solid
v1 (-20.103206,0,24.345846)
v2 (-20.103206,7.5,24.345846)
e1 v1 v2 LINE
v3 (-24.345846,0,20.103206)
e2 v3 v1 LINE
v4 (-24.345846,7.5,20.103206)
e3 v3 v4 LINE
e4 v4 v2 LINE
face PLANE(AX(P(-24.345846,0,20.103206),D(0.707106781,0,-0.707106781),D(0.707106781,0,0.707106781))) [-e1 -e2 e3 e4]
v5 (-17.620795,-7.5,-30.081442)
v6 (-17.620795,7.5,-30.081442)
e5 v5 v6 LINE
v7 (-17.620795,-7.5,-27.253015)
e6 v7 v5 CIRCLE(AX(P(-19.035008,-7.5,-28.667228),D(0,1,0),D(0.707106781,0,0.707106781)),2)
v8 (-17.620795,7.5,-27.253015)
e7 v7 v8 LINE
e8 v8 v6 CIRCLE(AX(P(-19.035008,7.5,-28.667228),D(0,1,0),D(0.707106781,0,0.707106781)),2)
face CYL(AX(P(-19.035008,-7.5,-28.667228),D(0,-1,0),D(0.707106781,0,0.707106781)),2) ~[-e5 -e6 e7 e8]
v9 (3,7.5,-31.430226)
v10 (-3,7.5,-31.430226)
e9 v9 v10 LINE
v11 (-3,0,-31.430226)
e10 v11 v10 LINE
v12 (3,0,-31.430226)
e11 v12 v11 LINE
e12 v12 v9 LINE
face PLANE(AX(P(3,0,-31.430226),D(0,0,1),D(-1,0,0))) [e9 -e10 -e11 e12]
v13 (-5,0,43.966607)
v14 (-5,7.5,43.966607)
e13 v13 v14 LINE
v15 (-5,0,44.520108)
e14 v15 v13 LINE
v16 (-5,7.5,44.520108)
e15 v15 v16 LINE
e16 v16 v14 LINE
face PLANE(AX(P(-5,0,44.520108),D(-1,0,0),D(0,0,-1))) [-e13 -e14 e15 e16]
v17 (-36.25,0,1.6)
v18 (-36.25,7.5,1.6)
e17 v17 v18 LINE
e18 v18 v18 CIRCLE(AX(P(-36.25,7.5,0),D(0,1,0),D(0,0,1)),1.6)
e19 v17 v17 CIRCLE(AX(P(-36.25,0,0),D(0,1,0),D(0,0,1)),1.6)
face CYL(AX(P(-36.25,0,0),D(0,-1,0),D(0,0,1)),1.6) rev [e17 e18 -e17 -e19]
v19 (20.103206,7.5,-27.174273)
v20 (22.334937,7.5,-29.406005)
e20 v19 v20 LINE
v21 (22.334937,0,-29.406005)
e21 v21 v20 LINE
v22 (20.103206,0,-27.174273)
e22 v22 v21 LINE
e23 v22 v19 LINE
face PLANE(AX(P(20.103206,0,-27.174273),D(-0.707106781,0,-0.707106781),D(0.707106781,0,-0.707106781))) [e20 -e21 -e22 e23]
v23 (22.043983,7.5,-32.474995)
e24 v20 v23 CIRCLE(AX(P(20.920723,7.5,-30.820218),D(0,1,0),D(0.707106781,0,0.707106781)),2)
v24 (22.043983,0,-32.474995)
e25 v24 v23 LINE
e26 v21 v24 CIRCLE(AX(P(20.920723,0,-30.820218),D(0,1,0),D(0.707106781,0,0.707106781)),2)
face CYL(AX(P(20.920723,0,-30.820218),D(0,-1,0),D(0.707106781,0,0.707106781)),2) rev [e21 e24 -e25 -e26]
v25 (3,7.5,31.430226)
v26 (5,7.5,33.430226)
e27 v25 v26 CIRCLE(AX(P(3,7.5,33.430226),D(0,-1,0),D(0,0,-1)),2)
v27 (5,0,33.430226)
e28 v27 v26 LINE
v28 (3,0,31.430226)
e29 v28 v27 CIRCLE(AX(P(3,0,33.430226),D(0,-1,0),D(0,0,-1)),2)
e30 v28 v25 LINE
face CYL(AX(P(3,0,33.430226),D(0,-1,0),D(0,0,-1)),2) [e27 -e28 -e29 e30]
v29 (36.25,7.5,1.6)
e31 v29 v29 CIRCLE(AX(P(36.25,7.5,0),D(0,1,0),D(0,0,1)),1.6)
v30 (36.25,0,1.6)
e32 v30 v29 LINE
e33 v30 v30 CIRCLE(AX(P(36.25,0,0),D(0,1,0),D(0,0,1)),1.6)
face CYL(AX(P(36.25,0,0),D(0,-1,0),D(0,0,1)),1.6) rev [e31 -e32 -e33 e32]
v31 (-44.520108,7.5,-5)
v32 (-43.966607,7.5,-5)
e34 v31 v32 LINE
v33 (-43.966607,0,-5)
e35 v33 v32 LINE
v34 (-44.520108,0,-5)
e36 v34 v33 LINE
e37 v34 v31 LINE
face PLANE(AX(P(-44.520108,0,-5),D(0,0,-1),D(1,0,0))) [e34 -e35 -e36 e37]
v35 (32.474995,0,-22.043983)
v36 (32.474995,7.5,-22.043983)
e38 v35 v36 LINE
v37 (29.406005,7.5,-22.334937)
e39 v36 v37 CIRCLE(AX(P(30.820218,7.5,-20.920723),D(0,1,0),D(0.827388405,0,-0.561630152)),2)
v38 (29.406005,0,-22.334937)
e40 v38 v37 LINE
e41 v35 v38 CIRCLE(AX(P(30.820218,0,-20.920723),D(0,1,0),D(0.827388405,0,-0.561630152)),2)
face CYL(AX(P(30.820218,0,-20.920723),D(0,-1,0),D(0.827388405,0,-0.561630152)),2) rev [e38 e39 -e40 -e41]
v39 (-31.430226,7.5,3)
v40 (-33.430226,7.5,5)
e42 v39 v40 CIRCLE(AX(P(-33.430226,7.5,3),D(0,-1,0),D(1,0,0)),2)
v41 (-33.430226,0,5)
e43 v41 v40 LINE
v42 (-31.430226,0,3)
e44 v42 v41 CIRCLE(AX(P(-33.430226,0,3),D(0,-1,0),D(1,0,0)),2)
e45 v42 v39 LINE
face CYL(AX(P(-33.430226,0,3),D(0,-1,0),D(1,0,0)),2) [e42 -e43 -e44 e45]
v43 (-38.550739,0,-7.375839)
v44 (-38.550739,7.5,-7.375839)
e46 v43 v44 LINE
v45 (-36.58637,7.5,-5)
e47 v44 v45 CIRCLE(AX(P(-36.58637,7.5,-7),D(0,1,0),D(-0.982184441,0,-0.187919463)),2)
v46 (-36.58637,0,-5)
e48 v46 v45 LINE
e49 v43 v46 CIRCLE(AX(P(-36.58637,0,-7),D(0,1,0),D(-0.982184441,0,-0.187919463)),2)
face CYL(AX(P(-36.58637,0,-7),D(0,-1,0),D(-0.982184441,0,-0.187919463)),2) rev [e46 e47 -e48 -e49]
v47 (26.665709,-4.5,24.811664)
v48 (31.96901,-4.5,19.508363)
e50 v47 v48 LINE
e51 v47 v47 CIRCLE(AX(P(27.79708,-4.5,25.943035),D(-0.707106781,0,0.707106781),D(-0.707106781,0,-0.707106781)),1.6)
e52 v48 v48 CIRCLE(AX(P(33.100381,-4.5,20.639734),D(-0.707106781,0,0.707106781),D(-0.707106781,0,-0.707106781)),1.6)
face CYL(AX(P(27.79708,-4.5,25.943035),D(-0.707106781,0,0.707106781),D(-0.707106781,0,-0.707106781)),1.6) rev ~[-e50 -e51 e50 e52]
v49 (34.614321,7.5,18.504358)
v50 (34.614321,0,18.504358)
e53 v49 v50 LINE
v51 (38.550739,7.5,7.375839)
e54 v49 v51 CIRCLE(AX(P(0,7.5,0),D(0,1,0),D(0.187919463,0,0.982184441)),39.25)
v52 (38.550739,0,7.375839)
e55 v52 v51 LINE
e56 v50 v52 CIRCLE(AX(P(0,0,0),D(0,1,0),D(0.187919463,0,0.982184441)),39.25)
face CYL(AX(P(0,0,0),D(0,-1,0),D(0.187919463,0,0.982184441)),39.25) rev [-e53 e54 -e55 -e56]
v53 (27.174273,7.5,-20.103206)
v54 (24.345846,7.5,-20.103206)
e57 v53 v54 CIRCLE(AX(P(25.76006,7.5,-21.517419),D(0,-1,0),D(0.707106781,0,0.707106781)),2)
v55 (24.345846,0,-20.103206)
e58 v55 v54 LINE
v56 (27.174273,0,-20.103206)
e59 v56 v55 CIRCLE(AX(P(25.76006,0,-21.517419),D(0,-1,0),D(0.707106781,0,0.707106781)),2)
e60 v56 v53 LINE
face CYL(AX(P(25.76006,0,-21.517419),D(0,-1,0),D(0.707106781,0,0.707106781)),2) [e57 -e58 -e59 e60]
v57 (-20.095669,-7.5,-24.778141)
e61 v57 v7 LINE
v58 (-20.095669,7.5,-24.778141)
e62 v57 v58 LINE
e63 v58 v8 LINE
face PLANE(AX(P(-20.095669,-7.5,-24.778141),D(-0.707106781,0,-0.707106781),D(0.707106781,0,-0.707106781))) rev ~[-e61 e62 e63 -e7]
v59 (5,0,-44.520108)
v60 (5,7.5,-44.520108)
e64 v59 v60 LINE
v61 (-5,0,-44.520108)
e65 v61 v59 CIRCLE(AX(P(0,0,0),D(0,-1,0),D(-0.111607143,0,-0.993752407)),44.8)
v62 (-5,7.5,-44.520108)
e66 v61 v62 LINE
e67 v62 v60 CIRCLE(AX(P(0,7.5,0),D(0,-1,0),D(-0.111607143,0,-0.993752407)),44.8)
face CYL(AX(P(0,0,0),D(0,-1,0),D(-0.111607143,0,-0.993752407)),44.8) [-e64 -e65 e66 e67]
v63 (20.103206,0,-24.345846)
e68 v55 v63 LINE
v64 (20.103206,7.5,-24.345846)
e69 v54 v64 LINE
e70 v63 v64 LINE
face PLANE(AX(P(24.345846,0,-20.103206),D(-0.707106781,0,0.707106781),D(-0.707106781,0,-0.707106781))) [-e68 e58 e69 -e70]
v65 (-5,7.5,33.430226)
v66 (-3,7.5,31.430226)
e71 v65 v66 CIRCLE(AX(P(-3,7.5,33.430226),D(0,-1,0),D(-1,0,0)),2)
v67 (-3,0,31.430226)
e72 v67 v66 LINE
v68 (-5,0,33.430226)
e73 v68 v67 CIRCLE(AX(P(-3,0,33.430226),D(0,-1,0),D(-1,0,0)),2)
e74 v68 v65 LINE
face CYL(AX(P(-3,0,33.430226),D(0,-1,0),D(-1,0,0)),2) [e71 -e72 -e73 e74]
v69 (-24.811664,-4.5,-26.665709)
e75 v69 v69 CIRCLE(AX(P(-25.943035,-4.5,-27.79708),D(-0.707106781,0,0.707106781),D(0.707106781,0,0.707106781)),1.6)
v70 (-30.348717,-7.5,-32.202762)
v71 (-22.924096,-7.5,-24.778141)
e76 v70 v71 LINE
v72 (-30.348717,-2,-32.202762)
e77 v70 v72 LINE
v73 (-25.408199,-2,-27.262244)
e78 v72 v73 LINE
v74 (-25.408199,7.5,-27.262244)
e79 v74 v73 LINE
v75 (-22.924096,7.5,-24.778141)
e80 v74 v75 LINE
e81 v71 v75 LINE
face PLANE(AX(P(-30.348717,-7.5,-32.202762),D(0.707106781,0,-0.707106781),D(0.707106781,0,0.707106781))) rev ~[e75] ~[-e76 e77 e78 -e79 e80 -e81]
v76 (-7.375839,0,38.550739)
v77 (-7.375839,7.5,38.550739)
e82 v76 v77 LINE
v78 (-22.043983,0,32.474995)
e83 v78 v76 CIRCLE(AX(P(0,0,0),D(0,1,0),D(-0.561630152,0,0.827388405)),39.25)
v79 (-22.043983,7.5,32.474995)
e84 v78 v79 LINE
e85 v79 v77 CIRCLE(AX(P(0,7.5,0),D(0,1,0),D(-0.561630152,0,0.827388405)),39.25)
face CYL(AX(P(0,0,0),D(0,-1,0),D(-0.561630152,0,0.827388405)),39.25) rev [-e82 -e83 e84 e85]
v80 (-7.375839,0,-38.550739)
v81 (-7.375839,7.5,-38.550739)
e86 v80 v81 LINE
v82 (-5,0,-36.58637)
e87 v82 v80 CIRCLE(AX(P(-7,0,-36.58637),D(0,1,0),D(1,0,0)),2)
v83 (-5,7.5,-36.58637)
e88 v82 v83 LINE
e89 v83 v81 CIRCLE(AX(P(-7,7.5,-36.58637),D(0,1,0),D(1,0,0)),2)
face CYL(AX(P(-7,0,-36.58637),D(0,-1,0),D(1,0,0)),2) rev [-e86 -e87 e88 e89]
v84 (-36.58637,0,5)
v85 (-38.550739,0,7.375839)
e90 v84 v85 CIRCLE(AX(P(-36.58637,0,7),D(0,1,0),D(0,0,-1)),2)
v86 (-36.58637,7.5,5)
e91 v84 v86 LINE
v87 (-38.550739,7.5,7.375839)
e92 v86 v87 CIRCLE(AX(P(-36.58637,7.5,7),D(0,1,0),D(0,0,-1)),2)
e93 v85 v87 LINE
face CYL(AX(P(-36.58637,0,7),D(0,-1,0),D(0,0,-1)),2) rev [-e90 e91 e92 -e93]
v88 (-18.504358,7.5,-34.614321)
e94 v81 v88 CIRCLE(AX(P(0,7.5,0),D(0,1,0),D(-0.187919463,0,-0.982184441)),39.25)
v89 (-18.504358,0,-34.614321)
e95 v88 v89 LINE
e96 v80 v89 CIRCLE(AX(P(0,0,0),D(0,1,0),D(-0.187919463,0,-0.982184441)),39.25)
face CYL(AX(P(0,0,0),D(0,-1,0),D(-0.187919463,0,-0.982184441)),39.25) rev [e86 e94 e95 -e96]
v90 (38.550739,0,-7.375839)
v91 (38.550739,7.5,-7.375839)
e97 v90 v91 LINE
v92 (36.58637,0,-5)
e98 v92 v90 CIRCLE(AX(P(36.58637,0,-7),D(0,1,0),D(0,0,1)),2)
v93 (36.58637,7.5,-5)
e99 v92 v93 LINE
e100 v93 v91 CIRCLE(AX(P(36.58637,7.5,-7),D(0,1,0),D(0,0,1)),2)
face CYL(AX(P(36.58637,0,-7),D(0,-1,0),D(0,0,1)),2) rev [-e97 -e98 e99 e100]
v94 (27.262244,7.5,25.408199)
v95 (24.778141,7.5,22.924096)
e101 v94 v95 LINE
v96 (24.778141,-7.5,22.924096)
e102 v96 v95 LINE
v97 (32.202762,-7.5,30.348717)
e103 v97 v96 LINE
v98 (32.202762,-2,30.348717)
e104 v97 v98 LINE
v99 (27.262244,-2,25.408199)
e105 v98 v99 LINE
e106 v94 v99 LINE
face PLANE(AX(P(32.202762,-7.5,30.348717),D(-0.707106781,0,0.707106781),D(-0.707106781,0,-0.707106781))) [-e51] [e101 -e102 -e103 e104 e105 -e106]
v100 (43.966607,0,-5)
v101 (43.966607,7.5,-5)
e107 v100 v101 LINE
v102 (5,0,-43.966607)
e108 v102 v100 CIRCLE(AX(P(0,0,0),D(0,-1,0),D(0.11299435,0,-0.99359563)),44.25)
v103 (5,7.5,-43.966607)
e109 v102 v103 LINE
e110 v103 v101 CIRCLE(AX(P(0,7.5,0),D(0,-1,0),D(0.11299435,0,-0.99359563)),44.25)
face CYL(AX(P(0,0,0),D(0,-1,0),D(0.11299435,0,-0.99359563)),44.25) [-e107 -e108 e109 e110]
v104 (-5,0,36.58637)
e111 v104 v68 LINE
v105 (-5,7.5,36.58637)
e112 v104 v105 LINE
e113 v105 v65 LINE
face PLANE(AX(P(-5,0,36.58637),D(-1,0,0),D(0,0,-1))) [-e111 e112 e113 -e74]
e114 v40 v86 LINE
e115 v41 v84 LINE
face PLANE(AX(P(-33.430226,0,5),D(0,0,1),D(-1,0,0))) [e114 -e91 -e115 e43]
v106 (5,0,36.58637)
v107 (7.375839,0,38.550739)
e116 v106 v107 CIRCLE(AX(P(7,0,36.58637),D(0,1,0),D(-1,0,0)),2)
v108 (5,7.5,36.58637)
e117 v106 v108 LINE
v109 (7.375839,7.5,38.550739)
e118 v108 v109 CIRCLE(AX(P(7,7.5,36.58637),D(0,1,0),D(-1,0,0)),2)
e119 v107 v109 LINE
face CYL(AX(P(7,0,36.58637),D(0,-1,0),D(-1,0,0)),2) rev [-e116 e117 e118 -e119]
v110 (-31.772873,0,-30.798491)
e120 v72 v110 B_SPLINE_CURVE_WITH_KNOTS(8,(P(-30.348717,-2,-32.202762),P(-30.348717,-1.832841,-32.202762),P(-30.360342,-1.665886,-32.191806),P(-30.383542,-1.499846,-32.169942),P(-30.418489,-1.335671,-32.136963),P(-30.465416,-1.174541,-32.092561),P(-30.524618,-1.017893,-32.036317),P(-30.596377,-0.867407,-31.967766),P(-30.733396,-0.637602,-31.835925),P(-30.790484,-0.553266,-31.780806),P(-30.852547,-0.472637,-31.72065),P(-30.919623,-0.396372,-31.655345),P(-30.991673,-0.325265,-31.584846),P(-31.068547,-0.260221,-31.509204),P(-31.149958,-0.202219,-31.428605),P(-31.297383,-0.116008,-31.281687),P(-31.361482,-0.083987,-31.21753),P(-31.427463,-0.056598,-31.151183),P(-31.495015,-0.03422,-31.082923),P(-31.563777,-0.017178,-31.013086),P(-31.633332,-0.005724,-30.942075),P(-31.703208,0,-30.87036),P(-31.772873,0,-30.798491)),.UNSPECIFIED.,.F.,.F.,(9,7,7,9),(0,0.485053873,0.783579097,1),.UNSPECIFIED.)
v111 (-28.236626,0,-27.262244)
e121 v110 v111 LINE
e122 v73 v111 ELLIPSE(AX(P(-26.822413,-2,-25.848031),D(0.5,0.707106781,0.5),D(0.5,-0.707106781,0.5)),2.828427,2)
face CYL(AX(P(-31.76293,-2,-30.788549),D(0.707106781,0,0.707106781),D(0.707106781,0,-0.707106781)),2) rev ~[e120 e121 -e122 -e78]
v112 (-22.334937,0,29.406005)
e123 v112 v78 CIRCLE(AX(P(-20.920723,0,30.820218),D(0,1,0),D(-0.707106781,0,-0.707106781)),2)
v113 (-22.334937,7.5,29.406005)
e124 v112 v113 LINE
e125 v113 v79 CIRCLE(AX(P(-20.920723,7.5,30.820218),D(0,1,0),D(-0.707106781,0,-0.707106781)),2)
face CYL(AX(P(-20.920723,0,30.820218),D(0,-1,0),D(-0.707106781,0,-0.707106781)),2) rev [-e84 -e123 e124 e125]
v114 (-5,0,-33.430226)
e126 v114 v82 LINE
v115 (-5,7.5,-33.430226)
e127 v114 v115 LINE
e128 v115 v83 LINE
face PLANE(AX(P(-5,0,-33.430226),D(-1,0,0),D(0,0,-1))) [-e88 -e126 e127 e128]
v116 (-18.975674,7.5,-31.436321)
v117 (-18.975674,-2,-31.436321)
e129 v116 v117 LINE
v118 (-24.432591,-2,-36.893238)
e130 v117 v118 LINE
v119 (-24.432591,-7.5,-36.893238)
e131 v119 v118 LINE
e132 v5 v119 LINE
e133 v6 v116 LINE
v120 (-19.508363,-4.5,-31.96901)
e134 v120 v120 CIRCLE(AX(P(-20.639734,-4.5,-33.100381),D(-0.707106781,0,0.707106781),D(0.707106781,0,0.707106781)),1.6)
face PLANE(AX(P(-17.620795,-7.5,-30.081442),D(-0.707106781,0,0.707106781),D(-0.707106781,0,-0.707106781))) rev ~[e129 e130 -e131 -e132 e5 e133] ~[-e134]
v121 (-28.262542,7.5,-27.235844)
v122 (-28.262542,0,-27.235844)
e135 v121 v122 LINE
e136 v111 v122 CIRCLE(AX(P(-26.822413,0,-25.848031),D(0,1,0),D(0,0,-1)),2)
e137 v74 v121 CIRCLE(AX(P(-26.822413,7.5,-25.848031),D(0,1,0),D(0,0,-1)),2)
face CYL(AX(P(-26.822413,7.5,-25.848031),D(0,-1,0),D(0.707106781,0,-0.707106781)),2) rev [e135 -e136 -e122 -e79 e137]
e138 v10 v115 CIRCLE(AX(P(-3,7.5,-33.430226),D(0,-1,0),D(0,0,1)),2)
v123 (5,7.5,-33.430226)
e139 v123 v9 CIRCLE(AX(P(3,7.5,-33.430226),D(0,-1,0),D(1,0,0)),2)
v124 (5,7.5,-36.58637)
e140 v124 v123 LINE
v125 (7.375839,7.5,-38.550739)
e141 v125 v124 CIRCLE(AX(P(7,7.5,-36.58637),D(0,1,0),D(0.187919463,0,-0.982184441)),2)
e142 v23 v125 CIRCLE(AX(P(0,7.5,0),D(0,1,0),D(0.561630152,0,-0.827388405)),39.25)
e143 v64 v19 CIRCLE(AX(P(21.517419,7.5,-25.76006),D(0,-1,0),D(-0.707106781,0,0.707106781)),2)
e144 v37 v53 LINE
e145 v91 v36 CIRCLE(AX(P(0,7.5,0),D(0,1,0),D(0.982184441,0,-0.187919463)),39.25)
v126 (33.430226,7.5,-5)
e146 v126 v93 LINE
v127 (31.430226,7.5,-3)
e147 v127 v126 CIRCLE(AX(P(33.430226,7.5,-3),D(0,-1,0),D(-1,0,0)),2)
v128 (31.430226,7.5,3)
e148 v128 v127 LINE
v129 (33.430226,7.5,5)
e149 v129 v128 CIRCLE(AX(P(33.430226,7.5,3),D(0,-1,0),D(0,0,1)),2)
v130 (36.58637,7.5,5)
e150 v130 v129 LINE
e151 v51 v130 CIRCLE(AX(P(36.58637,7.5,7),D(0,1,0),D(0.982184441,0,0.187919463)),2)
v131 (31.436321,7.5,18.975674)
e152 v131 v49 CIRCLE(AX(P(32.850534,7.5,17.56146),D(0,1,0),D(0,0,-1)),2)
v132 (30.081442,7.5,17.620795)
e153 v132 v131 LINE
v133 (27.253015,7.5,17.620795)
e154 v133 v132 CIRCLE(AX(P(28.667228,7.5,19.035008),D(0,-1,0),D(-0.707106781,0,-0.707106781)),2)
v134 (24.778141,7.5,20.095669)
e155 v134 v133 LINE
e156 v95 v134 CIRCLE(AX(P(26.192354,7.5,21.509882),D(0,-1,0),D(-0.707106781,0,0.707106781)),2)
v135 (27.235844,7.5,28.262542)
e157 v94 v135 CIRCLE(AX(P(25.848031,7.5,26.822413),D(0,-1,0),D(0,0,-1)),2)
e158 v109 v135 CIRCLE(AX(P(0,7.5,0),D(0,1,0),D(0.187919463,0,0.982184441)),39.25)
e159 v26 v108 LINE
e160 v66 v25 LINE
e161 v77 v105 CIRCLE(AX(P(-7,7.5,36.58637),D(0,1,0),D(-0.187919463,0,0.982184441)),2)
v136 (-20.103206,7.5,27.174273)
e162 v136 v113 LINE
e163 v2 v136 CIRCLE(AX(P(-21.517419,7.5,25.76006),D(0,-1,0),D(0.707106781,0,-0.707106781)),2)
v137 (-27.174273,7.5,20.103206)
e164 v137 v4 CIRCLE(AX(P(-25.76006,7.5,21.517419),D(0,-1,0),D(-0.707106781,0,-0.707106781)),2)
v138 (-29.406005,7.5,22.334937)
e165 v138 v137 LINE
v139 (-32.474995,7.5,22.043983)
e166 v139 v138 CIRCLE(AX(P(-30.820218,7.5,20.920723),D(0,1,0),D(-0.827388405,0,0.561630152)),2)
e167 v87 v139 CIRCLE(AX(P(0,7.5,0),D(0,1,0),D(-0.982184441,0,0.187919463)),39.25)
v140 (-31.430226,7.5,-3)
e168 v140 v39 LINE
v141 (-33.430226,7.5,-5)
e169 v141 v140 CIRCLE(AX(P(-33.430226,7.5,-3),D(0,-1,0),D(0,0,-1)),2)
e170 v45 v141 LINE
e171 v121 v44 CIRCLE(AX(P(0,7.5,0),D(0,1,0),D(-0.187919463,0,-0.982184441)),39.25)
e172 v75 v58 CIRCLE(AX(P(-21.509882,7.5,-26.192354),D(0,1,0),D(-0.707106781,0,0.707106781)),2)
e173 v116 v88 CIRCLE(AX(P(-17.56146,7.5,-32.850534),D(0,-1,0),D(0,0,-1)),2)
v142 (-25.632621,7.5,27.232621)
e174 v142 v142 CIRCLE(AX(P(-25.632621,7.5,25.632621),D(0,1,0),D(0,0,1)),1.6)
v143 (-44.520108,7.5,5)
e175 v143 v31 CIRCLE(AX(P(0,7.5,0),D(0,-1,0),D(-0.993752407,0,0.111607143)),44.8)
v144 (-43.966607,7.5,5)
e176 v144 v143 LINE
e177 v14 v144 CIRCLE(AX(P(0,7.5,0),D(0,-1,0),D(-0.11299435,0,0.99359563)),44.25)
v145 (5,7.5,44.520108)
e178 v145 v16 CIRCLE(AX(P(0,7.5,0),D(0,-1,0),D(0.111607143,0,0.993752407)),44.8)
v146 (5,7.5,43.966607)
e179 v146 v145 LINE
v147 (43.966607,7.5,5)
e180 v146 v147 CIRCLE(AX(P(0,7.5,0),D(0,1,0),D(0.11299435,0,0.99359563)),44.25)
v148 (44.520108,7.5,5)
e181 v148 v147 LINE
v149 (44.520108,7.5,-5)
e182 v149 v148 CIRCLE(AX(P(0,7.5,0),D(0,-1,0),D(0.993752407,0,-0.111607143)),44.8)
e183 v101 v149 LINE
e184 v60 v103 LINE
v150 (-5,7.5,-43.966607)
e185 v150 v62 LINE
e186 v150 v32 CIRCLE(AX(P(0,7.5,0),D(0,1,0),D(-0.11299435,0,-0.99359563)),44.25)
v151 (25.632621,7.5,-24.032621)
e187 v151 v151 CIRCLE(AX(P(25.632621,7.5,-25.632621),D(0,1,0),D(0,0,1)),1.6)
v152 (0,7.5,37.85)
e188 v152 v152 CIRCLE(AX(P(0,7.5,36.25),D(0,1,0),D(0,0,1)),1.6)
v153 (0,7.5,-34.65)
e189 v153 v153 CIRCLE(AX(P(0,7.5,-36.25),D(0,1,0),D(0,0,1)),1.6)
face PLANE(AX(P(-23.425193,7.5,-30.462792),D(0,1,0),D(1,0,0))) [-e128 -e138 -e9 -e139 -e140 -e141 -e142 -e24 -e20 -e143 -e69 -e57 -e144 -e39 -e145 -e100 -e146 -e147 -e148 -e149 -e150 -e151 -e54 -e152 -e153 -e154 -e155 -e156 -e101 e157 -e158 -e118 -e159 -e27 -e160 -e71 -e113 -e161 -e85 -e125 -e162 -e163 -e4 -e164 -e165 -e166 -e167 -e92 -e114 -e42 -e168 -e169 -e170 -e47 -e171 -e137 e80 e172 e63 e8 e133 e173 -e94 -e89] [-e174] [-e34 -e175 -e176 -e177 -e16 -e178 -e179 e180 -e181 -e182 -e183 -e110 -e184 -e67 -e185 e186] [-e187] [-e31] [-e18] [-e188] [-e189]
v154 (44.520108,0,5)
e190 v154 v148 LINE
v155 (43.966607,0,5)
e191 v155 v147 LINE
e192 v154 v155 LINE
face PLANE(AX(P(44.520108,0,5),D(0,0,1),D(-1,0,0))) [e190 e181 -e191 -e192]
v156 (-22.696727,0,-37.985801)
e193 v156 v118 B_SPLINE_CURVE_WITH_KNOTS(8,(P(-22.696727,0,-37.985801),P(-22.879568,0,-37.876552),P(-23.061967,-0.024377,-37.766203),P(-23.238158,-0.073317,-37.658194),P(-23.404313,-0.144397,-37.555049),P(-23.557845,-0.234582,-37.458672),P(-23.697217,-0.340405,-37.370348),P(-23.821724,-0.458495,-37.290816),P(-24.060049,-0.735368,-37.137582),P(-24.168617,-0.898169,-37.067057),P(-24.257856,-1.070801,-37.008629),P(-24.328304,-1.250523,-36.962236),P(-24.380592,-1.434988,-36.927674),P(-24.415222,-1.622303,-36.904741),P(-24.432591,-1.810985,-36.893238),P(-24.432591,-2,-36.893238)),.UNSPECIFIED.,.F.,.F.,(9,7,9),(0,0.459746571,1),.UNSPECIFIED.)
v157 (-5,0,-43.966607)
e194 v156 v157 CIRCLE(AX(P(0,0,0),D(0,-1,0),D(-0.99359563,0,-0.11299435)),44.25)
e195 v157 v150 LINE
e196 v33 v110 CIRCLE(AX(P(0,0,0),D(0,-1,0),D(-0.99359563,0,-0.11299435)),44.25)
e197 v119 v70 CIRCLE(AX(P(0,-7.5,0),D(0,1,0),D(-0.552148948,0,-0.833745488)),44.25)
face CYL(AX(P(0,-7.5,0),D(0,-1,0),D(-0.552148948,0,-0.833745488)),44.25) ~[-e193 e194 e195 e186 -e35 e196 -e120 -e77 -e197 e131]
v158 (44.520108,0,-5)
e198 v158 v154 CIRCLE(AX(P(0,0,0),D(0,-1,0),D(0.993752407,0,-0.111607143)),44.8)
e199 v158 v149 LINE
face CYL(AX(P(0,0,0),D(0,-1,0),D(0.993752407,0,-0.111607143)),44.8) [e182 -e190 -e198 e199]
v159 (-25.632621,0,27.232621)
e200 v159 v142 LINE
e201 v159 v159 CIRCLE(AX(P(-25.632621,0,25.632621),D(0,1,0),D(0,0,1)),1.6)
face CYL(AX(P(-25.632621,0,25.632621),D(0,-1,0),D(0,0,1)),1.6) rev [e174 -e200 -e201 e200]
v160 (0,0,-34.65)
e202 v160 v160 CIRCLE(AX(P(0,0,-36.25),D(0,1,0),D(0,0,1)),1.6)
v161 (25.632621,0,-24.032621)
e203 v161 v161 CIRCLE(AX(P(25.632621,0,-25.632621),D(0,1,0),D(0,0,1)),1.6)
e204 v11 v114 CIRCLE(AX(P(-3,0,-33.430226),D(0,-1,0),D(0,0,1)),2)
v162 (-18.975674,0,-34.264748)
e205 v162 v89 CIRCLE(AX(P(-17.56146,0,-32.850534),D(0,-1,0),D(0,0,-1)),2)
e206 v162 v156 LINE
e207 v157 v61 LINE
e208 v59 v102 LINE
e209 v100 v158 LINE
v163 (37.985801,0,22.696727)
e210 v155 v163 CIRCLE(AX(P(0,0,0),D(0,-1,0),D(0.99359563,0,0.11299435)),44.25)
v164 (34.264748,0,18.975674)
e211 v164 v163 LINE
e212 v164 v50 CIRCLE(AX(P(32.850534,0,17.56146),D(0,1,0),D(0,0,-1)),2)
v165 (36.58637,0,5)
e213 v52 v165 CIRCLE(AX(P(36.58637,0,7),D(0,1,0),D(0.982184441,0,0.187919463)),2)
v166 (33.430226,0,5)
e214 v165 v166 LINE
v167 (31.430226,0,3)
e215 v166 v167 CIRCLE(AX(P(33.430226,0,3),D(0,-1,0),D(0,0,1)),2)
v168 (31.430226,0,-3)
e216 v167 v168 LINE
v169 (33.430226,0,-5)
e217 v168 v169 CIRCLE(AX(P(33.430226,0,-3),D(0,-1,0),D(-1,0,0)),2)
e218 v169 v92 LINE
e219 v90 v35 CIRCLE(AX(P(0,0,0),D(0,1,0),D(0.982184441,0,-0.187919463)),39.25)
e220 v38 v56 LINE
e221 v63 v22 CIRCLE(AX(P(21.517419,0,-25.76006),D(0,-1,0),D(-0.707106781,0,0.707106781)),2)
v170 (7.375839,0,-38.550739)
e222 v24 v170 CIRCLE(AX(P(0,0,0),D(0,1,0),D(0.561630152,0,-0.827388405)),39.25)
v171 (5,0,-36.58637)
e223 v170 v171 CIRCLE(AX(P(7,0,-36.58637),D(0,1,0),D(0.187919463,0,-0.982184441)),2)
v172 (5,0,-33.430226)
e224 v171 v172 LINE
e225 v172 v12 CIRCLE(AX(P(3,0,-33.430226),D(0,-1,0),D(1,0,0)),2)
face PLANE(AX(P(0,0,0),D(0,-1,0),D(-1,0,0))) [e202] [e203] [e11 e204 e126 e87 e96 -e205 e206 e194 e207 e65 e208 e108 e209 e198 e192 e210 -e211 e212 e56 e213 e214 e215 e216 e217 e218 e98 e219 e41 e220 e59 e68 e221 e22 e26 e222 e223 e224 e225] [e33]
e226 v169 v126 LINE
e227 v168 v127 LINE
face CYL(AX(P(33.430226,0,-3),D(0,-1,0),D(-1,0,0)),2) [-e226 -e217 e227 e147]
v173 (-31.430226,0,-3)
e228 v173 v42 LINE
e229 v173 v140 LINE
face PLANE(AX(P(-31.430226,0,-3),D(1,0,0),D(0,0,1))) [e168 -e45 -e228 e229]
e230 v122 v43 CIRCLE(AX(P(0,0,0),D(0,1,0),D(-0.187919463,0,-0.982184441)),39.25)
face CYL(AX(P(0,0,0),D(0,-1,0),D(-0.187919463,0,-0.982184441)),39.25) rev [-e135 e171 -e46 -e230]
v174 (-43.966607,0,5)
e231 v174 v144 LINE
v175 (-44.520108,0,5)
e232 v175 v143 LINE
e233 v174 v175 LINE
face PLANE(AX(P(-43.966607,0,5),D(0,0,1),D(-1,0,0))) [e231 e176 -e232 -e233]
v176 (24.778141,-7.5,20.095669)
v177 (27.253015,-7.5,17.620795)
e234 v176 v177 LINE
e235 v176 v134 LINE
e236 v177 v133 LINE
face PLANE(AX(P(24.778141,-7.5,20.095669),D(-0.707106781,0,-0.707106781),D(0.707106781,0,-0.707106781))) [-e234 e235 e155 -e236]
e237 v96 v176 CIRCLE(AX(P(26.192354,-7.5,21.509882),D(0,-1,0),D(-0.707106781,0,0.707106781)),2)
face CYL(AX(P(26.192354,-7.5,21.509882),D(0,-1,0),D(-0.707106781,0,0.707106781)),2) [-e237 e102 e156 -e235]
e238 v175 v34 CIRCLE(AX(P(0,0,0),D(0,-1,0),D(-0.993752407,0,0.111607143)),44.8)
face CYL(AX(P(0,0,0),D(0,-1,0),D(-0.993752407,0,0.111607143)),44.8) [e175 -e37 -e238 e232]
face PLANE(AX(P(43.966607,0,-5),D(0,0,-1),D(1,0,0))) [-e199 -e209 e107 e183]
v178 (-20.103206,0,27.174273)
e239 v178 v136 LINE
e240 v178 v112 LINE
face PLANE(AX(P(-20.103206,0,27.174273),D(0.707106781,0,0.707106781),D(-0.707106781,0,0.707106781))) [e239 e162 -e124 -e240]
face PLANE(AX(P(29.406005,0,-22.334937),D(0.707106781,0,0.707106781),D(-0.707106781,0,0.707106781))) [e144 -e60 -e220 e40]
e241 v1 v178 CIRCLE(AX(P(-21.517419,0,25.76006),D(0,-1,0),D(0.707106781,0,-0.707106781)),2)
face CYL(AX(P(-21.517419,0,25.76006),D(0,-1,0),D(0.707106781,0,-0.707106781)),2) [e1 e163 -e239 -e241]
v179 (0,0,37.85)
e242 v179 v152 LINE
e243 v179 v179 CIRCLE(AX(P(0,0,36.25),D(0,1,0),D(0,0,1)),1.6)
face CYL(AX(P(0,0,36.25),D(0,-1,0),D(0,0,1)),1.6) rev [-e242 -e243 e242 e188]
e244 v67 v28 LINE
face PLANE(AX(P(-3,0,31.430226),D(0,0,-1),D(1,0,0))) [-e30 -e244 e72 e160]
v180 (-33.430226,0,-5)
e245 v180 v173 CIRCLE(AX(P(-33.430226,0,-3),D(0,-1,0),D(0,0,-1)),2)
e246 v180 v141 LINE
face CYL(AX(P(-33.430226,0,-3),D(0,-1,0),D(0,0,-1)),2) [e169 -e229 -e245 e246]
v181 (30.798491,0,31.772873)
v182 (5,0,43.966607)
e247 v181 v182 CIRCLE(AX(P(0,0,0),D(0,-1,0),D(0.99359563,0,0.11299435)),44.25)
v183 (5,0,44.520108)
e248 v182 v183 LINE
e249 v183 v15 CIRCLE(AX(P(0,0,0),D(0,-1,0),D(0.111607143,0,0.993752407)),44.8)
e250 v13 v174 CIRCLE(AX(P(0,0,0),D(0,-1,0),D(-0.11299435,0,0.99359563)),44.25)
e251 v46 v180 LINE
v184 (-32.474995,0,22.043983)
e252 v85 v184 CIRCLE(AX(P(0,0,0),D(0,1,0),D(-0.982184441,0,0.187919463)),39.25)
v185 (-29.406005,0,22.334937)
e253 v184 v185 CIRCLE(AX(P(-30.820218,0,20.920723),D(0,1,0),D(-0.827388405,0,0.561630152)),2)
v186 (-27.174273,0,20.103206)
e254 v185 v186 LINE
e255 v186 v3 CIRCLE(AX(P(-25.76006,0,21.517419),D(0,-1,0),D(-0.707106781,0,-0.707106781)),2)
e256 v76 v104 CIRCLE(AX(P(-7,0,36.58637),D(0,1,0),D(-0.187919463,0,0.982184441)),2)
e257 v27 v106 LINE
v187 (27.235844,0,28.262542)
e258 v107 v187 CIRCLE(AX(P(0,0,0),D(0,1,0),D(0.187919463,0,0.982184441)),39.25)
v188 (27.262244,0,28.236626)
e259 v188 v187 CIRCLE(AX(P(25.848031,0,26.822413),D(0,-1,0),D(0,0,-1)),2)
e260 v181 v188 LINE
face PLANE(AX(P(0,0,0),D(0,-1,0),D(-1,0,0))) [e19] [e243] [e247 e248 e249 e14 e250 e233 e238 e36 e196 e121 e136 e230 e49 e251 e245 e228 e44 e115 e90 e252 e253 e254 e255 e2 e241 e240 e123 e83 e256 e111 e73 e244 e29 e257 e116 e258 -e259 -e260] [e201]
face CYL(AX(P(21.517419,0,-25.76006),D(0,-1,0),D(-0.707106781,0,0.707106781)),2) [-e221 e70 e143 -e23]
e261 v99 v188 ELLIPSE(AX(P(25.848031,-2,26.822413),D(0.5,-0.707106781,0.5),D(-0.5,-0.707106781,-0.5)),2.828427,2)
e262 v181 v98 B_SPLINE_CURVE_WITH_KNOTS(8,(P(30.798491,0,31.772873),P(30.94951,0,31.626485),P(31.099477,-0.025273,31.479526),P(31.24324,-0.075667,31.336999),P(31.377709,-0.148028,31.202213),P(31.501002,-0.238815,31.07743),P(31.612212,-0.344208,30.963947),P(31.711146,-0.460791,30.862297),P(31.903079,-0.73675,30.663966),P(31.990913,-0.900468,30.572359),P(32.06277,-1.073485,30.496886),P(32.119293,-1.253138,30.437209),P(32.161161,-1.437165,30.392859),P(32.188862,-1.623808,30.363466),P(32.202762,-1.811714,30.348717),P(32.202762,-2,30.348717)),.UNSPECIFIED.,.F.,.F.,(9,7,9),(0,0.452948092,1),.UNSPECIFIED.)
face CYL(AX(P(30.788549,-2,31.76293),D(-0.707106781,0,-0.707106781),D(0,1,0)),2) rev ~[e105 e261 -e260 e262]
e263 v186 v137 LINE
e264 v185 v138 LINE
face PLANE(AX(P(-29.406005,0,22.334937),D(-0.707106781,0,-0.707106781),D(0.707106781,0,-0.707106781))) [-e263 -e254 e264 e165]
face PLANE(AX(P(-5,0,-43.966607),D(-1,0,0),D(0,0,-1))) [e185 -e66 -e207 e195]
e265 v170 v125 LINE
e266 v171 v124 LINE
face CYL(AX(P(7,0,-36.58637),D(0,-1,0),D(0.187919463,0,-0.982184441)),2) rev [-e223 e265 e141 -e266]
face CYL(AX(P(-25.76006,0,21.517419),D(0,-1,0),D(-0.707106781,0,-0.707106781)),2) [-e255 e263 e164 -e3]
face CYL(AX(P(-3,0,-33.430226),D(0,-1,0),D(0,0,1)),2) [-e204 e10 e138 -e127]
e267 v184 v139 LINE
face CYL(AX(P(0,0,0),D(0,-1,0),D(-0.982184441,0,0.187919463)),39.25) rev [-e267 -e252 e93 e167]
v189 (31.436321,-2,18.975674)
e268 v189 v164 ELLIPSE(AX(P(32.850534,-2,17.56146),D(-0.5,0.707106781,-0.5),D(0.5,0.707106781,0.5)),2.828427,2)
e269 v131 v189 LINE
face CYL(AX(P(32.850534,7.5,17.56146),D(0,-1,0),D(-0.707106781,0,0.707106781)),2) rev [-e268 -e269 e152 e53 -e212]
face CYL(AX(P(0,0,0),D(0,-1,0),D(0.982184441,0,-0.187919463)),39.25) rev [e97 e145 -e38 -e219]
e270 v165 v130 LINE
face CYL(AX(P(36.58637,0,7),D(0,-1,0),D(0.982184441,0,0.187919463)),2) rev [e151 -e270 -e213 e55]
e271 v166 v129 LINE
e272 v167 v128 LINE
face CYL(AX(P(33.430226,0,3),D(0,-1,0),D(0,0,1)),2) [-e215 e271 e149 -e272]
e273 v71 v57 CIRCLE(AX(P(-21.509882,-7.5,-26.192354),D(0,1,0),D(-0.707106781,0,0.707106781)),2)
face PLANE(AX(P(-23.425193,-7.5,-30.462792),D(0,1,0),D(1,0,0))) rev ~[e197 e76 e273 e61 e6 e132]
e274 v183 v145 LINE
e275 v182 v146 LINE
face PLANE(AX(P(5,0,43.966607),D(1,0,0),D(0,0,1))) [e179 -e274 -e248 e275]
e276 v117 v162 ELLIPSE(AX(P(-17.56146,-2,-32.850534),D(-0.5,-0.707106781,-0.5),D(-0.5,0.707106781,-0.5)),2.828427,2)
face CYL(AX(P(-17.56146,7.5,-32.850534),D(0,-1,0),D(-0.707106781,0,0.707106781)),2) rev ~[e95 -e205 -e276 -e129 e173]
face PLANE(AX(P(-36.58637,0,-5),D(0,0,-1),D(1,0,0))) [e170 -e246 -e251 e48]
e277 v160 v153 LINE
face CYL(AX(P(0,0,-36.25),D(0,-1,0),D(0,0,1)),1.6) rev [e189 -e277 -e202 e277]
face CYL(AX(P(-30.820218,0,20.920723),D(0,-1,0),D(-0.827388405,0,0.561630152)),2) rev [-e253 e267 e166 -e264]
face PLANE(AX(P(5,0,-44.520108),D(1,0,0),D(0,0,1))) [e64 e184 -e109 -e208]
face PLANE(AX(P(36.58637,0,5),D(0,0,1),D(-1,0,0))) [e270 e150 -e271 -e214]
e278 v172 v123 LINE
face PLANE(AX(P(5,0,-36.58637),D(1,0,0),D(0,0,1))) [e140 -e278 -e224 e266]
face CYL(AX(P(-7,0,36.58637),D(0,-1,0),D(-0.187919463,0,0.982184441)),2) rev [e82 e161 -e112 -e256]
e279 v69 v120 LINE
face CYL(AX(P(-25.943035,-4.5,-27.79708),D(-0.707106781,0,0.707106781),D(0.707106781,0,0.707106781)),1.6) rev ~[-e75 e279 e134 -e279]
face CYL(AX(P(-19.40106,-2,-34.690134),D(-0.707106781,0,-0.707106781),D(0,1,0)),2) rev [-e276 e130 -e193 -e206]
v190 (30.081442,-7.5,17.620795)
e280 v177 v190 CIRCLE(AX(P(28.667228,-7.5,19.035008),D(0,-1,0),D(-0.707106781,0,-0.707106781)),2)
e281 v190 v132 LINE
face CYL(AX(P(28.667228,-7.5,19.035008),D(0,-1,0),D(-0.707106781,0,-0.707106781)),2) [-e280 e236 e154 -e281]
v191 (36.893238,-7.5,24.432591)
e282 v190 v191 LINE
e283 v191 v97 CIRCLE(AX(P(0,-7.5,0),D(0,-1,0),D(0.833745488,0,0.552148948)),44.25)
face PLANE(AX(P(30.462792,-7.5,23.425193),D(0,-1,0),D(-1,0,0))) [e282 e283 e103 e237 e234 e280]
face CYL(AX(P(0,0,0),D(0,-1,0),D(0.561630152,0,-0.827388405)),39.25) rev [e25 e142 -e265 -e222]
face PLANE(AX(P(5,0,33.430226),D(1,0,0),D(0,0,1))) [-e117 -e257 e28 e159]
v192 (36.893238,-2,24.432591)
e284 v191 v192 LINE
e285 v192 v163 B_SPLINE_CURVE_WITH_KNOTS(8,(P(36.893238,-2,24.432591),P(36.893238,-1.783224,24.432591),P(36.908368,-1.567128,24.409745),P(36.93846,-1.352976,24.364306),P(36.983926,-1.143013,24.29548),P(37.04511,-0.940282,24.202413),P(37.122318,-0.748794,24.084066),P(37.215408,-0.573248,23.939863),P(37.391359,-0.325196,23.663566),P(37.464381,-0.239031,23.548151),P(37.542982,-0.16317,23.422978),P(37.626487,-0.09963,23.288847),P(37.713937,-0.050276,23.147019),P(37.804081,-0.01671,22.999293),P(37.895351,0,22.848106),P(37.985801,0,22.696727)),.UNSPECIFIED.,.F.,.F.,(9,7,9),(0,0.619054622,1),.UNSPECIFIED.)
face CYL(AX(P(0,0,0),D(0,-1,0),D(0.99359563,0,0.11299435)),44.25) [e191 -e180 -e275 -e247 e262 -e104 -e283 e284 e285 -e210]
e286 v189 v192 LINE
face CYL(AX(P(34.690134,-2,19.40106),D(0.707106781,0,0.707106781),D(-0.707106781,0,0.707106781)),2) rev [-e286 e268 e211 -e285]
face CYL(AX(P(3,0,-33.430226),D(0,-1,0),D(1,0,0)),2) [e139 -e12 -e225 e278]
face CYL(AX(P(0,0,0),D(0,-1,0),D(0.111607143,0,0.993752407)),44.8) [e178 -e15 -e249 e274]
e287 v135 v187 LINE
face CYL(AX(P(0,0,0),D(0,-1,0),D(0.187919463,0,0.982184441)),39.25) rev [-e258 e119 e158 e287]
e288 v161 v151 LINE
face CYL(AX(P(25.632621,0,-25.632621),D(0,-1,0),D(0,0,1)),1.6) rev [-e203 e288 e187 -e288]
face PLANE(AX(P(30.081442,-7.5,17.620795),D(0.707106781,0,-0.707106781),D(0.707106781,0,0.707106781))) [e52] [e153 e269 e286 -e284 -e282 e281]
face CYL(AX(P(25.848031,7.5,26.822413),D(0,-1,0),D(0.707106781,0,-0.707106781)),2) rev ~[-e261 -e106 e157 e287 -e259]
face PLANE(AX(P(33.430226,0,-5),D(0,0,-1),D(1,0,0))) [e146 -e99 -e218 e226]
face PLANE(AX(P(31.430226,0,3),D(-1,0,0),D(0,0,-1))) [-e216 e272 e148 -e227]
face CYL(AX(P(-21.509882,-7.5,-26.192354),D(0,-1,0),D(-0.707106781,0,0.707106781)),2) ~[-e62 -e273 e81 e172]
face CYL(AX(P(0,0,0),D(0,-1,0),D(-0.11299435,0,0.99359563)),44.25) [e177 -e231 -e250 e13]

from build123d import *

# Parameters (mm, degrees)
SKETCH1_R           = 1.599999999999998
SKETCH1_R_2         = 1.5999999999996972
SKETCH1_R_3         = 1.6000000000003676
SKETCH1_R_4         = 1.600000000000762
SKETCH1_R_5         = 1.6000000000001544
SKETCH1_R_6         = 1.5999999999994483
BOSS_EXTRUDE1_DEPTH = 7.5
BOSS_EXTRUDE2_START = -15
BOSS_EXTRUDE2_DEPTH = 15
SKETCH3_R           = 1.5999999999999979
CUT_EXTRUDE1_DEPTH  = 15
FILLET3_R           = 2
FILLET4_R           = 2
FILLET5_R           = 2
FILLET6_R           = 2


with BuildPart() as part:
    # Sketch1 → Boss-Extrude1 (new body)
    with BuildSketch(Plane(origin=(0, 0, 0), x_dir=(1, 0, 0), z_dir=(0, 1, 0))):
        with BuildLine():
            Line((-5.000000000000007, 43.96660664640836), (-5.000000000000007, 44.52010781658104))
            ThreePointArc((-5.000000000000007, 44.52010781658104), (-7.2e-15, 44.8), (4.999999999999993, 44.52010781658104))
            Line((4.999999999999993, 44.52010781658104), (4.999999999999993, 43.966606646408366))
            ThreePointArc((4.999999999999993, 43.966606646408366), (31.289475067504778, 31.289475067504675), (43.96660664640838, 4.9999999999998535))
            Line((43.96660664640838, 4.9999999999998535), (44.52010781658105, 4.999999999999852))
            ThreePointArc((44.52010781658105, 4.999999999999852), (44.8, -1.4984e-13), (44.52010781658102, -5.000000000000148))
            Line((44.52010781658102, -5.000000000000148), (43.966606646408344, -5.0000000000001465))
            ThreePointArc((43.966606646408344, -5.0000000000001465), (31.289475067504558, -31.289475067504878), (4.9999999999997, -43.96660664640838))
            Line((4.9999999999997, -43.96660664640838), (4.999999999999696, -44.52010781658105))
            ThreePointArc((4.999999999999696, -44.52010781658105), (-3.0563e-13, -44.79999999999998), (-5.000000000000304, -44.52010781658099))
            Line((-5.000000000000304, -44.52010781658099), (-5.0000000000003, -43.966606646408316))
            ThreePointArc((-5.0000000000003, -43.966606646408316), (-31.289475067505, -31.28947506750445), (-43.96660664640841, -4.999999999999546))
            Line((-43.96660664640841, -4.999999999999546), (-44.52010781658109, -4.999999999999541))
            ThreePointArc((-44.52010781658109, -4.999999999999541), (-44.8, 4.6308e-13), (-44.52010781658098, 5.00000000000046))
            Line((-44.52010781658098, 5.00000000000046), (-43.96660664640831, 5.000000000000454))
            ThreePointArc((-43.96660664640831, 5.000000000000454), (-31.289475067504558, 31.289475067504895), (-5.000000000000007, 43.96660664640836))
        make_face()
        with Locations(Location((36.25, 0, 0), (0, 0, 270))):
            Circle(SKETCH1_R, mode=Mode.SUBTRACT)
        with Locations(Location((8.9734e-13, -36.25, 0), (0, 0, 270))):
            Circle(SKETCH1_R_2, mode=Mode.SUBTRACT)
        with Locations(Location((-25.63262081801145, -25.63262081801235, 0), (0, 0, 270))):
            Circle(SKETCH1_R_3, mode=Mode.SUBTRACT)
        with Locations(Location((-36.249999999999105, -4.44e-15, 0), (0, 0, 270))):
            Circle(SKETCH1_R_4, mode=Mode.SUBTRACT)
        with Locations(Location((8.8846e-13, 36.25, 0), (0, 0, 270))):
            Circle(SKETCH1_R_5, mode=Mode.SUBTRACT)
        with Locations(Location((25.632620818013237, 25.632620818012352, 0), (0, 0, 270))):
            Circle(SKETCH1_R_6, mode=Mode.SUBTRACT)
        with BuildLine():
            Line((33.43022604609433, 5), (36.58637041303769, 5))
            ThreePointArc((36.58637041303769, 5), (38.12774607334069, 5.725574218000316), (38.55073929427462, 7.375838926174497))
            ThreePointArc((38.55073929427462, 7.375838926174497), (36.262271651068, 15.02032472032978), (32.474994896373964, 22.0439834530986))
            ThreePointArc((32.474994896373964, 22.0439834530986), (31.00898015555284, 22.911795444083076), (29.406004523994554, 22.33493671212909))
            Line((29.406004523994554, 22.33493671212909), (27.174273439725177, 20.10320562785971))
            ThreePointArc((27.174273439725177, 20.10320562785971), (25.76005987735207, 19.517419190232797), (24.345846314978967, 20.10320562785971))
            Line((24.345846314978967, 20.10320562785971), (20.1032056278597, 24.345846314978974))
            ThreePointArc((20.1032056278597, 24.345846314978974), (19.51741919023278, 25.76005987735208), (20.103205627859698, 27.174273439725187))
            Line((20.103205627859698, 27.174273439725187), (22.33493671212907, 29.406004523994557))
            ThreePointArc((22.33493671212907, 29.406004523994557), (22.91179544408306, 31.00898015555285), (22.043983453098583, 32.474994896373985))
            ThreePointArc((22.043983453098583, 32.474994896373985), (15.02032472032976, 36.26227165106802), (7.37583892617449, 38.55073929427462))
            ThreePointArc((7.37583892617449, 38.55073929427462), (5.725574218000309, 38.12774607334069), (4.999999999999993, 36.58637041303769))
            Line((4.999999999999993, 36.58637041303769), (4.999999999999994, 33.43022604609433))
            ThreePointArc((4.999999999999994, 33.43022604609433), (4.4142135623730905, 32.01601248372122), (2.9999999999999796, 31.430226046094315))
            Line((2.9999999999999796, 31.430226046094315), (-2.999999999999992, 31.430226046094315))
            ThreePointArc((-2.999999999999992, 31.430226046094315), (-4.414213562373101, 32.01601248372123), (-5.000000000000006, 33.43022604609433))
            Line((-5.000000000000006, 33.43022604609433), (-5.000000000000007, 36.58637041303769))
            ThreePointArc((-5.000000000000007, 36.58637041303769), (-5.7255742180003235, 38.12774607334069), (-7.375838926174504, 38.55073929427462))
            ThreePointArc((-7.375838926174504, 38.55073929427462), (-27.753941161571994, 27.753941161571998), (-38.55073929427462, 7.3758389261744925))
            ThreePointArc((-38.55073929427462, 7.3758389261744925), (-38.12774607334069, 5.725574218000312), (-36.58637041303769, 4.999999999999996))
            Line((-36.58637041303769, 4.999999999999996), (-33.43022604609433, 4.9999999999999964))
            ThreePointArc((-33.43022604609433, 4.9999999999999964), (-32.01601248372122, 4.414213562373094), (-31.430226046094315, 2.9999999999999822))
            Line((-31.430226046094315, 2.9999999999999822), (-31.430226046094315, -2.9999999999999893))
            ThreePointArc((-31.430226046094315, -2.9999999999999893), (-32.01601248372123, -4.4142135623730985), (-33.43022604609433, -5.0000000000000036))
            Line((-33.43022604609433, -5.0000000000000036), (-36.58637041303769, -5.000000000000004))
            ThreePointArc((-36.58637041303769, -5.000000000000004), (-38.12774607334069, -5.725574218000321), (-38.55073929427462, -7.375838926174501))
            ThreePointArc((-38.55073929427462, -7.375838926174501), (-36.26227165106801, -15.02032472032978), (-32.47499489637397, -22.043983453098594))
            ThreePointArc((-32.47499489637397, -22.043983453098594), (-31.008980155552848, -22.911795444083076), (-29.406004523994554, -22.334936712129085))
            Line((-29.406004523994554, -22.334936712129085), (-27.17427343972518, -20.103205627859708))
            ThreePointArc((-27.17427343972518, -20.103205627859708), (-25.760059877352074, -19.517419190232793), (-24.34584631497897, -20.103205627859708))
            Line((-24.34584631497897, -20.103205627859708), (-20.103205627859705, -24.34584631497897))
            ThreePointArc((-20.103205627859705, -24.34584631497897), (-19.517419190232783, -25.760059877352074), (-20.1032056278597, -27.174273439725184))
            Line((-20.1032056278597, -27.174273439725184), (-22.334936712129075, -29.406004523994554))
            ThreePointArc((-22.334936712129075, -29.406004523994554), (-22.911795444083065, -31.008980155552848), (-22.043983453098587, -32.47499489637398))
            ThreePointArc((-22.043983453098587, -32.47499489637398), (-15.020324720329771, -36.262271651068005), (-7.375838926174493, -38.55073929427462))
            ThreePointArc((-7.375838926174493, -38.55073929427462), (-5.725574218000314, -38.12774607334069), (-4.999999999999997, -36.58637041303769))
            Line((-4.999999999999997, -36.58637041303769), (-4.999999999999998, -33.43022604609433))
            ThreePointArc((-4.999999999999998, -33.43022604609433), (-4.414213562373095, -32.01601248372122), (-2.999999999999984, -31.430226046094315))
            Line((-2.999999999999984, -31.430226046094315), (2.9999999999999876, -31.430226046094315))
            ThreePointArc((2.9999999999999876, -31.430226046094315), (4.414213562373097, -32.01601248372123), (5.000000000000002, -33.43022604609433))
            Line((5.000000000000002, -33.43022604609433), (5.000000000000003, -36.58637041303769))
            ThreePointArc((5.000000000000003, -36.58637041303769), (5.725574218000319, -38.12774607334069), (7.3758389261745, -38.55073929427462))
            ThreePointArc((7.3758389261745, -38.55073929427462), (27.753941161571998, -27.753941161571994), (38.55073929427462, -7.375838926174497))
            ThreePointArc((38.55073929427462, -7.375838926174497), (38.12774607334069, -5.725574218000316), (36.58637041303769, -5))
            Line((36.58637041303769, -5), (33.43022604609433, -5))
            ThreePointArc((33.43022604609433, -5), (32.01601248372123, -4.414213562373095), (31.430226046094315, -2.999999999999986))
            Line((31.430226046094315, -2.999999999999986), (31.430226046094315, 2.999999999999986))
            ThreePointArc((31.430226046094315, 2.999999999999986), (32.01601248372123, 4.414213562373095), (33.43022604609433, 5))
        make_face(mode=Mode.SUBTRACT)
    extrude(amount=BOSS_EXTRUDE1_DEPTH)

    # Sketch2 → Boss-Extrude2 (add)
    with BuildSketch(Plane(origin=(0, 7.5, 0), x_dir=(1, 0, 0), z_dir=(0, 1, 0)).offset(BOSS_EXTRUDE2_START)):
        with BuildLine():
            Line((-30.348716864560213, 32.202762065927786), (-22.924095662101468, 24.778140863469048))
            ThreePointArc((-22.924095662101468, 24.778140863469048), (-21.509882099728365, 24.192354425842133), (-20.095668537355262, 24.778140863469048))
            Line((-20.095668537355262, 24.778140863469048), (-17.620794803202365, 27.253014597621945))
            ThreePointArc((-17.620794803202365, 27.253014597621945), (-17.03500836557545, 28.66722815999505), (-17.620794803202365, 30.081441722368155))
            Line((-17.620794803202365, 30.081441722368155), (-24.43259094183973, 36.89323786100552))
            ThreePointArc((-24.43259094183973, 36.89323786100552), (-27.490872340486693, 34.674406093818874), (-30.348716864560213, 32.202762065927786))
        make_face()
        with BuildLine():
            Line((24.778140863469044, -20.09566853735524), (27.253014597621938, -17.620794803202347))
            ThreePointArc((27.253014597621938, -17.620794803202347), (28.66722815999504, -17.035008365575433), (30.081441722368144, -17.620794803202347))
            Line((30.081441722368144, -17.620794803202347), (36.89323786100551, -24.4325909418397))
            ThreePointArc((36.89323786100551, -24.4325909418397), (34.67440609381886, -27.49087234048667), (32.20276206592778, -30.348716864560195))
            Line((32.20276206592778, -30.348716864560195), (24.778140863469044, -22.924095662101447))
            ThreePointArc((24.778140863469044, -22.924095662101447), (24.19235442584213, -21.509882099728344), (24.778140863469044, -20.09566853735524))
        make_face()
    extrude(amount=BOSS_EXTRUDE2_DEPTH)

    # Sketch3 → Cut-Extrude1 (cut)
    with BuildSketch(Plane(origin=(0.9270226006838173, 0, -0.9270226006838158), x_dir=(0.7071067811865471, 0, 0.7071067811865479), z_dir=(-0.7071067811865479, 0, 0.7071067811865471))):
        with Locations((-38, -4.5)):
            Circle(SKETCH3_R)
        with Locations(Location((38, -4.49999999999999, 0), (0, 0, 180))):
            Circle(SKETCH3_R)
    extrude(amount=-CUT_EXTRUDE1_DEPTH, mode=Mode.SUBTRACT)

    # Fillet3
    fillet3_edges = [part.edges().sort_by_distance(p)[0] for p in [
        (28.665477480107445, 3.75, 26.811432278739854),
        (30.434119773017613, 0, 28.58007457165003),
    ]]
    fillet(fillet3_edges, radius=FILLET3_R)

    # Fillet4
    fillet4_edges = [part.edges().sort_by_distance(p)[0] for p in [
        (33.27592050584852, 3.75, 20.815273586682707),
        (35.08457918342702, 8.9e-16, 22.623932264261207),
    ]]
    fillet(fillet4_edges, radius=FILLET4_R)

    # Fillet5
    fillet5_edges = [part.edges().sort_by_distance(p)[0] for p in [
        (-20.815273586682718, 3.75, -33.275920505848504),
        (-22.62393226426122, 0, -35.08457918342701),
    ]]
    fillet(fillet5_edges, radius=FILLET5_R)

    # Fillet6
    fillet6_edges = [part.edges().sort_by_distance(p)[0] for p in [
        (-26.811432278739865, 3.75, -28.66547748010744),
        (-28.580074571650037, 8.9e-16, -30.434119773017613),
    ]]
    fillet(fillet6_edges, radius=FILLET6_R)


solid = part.part
